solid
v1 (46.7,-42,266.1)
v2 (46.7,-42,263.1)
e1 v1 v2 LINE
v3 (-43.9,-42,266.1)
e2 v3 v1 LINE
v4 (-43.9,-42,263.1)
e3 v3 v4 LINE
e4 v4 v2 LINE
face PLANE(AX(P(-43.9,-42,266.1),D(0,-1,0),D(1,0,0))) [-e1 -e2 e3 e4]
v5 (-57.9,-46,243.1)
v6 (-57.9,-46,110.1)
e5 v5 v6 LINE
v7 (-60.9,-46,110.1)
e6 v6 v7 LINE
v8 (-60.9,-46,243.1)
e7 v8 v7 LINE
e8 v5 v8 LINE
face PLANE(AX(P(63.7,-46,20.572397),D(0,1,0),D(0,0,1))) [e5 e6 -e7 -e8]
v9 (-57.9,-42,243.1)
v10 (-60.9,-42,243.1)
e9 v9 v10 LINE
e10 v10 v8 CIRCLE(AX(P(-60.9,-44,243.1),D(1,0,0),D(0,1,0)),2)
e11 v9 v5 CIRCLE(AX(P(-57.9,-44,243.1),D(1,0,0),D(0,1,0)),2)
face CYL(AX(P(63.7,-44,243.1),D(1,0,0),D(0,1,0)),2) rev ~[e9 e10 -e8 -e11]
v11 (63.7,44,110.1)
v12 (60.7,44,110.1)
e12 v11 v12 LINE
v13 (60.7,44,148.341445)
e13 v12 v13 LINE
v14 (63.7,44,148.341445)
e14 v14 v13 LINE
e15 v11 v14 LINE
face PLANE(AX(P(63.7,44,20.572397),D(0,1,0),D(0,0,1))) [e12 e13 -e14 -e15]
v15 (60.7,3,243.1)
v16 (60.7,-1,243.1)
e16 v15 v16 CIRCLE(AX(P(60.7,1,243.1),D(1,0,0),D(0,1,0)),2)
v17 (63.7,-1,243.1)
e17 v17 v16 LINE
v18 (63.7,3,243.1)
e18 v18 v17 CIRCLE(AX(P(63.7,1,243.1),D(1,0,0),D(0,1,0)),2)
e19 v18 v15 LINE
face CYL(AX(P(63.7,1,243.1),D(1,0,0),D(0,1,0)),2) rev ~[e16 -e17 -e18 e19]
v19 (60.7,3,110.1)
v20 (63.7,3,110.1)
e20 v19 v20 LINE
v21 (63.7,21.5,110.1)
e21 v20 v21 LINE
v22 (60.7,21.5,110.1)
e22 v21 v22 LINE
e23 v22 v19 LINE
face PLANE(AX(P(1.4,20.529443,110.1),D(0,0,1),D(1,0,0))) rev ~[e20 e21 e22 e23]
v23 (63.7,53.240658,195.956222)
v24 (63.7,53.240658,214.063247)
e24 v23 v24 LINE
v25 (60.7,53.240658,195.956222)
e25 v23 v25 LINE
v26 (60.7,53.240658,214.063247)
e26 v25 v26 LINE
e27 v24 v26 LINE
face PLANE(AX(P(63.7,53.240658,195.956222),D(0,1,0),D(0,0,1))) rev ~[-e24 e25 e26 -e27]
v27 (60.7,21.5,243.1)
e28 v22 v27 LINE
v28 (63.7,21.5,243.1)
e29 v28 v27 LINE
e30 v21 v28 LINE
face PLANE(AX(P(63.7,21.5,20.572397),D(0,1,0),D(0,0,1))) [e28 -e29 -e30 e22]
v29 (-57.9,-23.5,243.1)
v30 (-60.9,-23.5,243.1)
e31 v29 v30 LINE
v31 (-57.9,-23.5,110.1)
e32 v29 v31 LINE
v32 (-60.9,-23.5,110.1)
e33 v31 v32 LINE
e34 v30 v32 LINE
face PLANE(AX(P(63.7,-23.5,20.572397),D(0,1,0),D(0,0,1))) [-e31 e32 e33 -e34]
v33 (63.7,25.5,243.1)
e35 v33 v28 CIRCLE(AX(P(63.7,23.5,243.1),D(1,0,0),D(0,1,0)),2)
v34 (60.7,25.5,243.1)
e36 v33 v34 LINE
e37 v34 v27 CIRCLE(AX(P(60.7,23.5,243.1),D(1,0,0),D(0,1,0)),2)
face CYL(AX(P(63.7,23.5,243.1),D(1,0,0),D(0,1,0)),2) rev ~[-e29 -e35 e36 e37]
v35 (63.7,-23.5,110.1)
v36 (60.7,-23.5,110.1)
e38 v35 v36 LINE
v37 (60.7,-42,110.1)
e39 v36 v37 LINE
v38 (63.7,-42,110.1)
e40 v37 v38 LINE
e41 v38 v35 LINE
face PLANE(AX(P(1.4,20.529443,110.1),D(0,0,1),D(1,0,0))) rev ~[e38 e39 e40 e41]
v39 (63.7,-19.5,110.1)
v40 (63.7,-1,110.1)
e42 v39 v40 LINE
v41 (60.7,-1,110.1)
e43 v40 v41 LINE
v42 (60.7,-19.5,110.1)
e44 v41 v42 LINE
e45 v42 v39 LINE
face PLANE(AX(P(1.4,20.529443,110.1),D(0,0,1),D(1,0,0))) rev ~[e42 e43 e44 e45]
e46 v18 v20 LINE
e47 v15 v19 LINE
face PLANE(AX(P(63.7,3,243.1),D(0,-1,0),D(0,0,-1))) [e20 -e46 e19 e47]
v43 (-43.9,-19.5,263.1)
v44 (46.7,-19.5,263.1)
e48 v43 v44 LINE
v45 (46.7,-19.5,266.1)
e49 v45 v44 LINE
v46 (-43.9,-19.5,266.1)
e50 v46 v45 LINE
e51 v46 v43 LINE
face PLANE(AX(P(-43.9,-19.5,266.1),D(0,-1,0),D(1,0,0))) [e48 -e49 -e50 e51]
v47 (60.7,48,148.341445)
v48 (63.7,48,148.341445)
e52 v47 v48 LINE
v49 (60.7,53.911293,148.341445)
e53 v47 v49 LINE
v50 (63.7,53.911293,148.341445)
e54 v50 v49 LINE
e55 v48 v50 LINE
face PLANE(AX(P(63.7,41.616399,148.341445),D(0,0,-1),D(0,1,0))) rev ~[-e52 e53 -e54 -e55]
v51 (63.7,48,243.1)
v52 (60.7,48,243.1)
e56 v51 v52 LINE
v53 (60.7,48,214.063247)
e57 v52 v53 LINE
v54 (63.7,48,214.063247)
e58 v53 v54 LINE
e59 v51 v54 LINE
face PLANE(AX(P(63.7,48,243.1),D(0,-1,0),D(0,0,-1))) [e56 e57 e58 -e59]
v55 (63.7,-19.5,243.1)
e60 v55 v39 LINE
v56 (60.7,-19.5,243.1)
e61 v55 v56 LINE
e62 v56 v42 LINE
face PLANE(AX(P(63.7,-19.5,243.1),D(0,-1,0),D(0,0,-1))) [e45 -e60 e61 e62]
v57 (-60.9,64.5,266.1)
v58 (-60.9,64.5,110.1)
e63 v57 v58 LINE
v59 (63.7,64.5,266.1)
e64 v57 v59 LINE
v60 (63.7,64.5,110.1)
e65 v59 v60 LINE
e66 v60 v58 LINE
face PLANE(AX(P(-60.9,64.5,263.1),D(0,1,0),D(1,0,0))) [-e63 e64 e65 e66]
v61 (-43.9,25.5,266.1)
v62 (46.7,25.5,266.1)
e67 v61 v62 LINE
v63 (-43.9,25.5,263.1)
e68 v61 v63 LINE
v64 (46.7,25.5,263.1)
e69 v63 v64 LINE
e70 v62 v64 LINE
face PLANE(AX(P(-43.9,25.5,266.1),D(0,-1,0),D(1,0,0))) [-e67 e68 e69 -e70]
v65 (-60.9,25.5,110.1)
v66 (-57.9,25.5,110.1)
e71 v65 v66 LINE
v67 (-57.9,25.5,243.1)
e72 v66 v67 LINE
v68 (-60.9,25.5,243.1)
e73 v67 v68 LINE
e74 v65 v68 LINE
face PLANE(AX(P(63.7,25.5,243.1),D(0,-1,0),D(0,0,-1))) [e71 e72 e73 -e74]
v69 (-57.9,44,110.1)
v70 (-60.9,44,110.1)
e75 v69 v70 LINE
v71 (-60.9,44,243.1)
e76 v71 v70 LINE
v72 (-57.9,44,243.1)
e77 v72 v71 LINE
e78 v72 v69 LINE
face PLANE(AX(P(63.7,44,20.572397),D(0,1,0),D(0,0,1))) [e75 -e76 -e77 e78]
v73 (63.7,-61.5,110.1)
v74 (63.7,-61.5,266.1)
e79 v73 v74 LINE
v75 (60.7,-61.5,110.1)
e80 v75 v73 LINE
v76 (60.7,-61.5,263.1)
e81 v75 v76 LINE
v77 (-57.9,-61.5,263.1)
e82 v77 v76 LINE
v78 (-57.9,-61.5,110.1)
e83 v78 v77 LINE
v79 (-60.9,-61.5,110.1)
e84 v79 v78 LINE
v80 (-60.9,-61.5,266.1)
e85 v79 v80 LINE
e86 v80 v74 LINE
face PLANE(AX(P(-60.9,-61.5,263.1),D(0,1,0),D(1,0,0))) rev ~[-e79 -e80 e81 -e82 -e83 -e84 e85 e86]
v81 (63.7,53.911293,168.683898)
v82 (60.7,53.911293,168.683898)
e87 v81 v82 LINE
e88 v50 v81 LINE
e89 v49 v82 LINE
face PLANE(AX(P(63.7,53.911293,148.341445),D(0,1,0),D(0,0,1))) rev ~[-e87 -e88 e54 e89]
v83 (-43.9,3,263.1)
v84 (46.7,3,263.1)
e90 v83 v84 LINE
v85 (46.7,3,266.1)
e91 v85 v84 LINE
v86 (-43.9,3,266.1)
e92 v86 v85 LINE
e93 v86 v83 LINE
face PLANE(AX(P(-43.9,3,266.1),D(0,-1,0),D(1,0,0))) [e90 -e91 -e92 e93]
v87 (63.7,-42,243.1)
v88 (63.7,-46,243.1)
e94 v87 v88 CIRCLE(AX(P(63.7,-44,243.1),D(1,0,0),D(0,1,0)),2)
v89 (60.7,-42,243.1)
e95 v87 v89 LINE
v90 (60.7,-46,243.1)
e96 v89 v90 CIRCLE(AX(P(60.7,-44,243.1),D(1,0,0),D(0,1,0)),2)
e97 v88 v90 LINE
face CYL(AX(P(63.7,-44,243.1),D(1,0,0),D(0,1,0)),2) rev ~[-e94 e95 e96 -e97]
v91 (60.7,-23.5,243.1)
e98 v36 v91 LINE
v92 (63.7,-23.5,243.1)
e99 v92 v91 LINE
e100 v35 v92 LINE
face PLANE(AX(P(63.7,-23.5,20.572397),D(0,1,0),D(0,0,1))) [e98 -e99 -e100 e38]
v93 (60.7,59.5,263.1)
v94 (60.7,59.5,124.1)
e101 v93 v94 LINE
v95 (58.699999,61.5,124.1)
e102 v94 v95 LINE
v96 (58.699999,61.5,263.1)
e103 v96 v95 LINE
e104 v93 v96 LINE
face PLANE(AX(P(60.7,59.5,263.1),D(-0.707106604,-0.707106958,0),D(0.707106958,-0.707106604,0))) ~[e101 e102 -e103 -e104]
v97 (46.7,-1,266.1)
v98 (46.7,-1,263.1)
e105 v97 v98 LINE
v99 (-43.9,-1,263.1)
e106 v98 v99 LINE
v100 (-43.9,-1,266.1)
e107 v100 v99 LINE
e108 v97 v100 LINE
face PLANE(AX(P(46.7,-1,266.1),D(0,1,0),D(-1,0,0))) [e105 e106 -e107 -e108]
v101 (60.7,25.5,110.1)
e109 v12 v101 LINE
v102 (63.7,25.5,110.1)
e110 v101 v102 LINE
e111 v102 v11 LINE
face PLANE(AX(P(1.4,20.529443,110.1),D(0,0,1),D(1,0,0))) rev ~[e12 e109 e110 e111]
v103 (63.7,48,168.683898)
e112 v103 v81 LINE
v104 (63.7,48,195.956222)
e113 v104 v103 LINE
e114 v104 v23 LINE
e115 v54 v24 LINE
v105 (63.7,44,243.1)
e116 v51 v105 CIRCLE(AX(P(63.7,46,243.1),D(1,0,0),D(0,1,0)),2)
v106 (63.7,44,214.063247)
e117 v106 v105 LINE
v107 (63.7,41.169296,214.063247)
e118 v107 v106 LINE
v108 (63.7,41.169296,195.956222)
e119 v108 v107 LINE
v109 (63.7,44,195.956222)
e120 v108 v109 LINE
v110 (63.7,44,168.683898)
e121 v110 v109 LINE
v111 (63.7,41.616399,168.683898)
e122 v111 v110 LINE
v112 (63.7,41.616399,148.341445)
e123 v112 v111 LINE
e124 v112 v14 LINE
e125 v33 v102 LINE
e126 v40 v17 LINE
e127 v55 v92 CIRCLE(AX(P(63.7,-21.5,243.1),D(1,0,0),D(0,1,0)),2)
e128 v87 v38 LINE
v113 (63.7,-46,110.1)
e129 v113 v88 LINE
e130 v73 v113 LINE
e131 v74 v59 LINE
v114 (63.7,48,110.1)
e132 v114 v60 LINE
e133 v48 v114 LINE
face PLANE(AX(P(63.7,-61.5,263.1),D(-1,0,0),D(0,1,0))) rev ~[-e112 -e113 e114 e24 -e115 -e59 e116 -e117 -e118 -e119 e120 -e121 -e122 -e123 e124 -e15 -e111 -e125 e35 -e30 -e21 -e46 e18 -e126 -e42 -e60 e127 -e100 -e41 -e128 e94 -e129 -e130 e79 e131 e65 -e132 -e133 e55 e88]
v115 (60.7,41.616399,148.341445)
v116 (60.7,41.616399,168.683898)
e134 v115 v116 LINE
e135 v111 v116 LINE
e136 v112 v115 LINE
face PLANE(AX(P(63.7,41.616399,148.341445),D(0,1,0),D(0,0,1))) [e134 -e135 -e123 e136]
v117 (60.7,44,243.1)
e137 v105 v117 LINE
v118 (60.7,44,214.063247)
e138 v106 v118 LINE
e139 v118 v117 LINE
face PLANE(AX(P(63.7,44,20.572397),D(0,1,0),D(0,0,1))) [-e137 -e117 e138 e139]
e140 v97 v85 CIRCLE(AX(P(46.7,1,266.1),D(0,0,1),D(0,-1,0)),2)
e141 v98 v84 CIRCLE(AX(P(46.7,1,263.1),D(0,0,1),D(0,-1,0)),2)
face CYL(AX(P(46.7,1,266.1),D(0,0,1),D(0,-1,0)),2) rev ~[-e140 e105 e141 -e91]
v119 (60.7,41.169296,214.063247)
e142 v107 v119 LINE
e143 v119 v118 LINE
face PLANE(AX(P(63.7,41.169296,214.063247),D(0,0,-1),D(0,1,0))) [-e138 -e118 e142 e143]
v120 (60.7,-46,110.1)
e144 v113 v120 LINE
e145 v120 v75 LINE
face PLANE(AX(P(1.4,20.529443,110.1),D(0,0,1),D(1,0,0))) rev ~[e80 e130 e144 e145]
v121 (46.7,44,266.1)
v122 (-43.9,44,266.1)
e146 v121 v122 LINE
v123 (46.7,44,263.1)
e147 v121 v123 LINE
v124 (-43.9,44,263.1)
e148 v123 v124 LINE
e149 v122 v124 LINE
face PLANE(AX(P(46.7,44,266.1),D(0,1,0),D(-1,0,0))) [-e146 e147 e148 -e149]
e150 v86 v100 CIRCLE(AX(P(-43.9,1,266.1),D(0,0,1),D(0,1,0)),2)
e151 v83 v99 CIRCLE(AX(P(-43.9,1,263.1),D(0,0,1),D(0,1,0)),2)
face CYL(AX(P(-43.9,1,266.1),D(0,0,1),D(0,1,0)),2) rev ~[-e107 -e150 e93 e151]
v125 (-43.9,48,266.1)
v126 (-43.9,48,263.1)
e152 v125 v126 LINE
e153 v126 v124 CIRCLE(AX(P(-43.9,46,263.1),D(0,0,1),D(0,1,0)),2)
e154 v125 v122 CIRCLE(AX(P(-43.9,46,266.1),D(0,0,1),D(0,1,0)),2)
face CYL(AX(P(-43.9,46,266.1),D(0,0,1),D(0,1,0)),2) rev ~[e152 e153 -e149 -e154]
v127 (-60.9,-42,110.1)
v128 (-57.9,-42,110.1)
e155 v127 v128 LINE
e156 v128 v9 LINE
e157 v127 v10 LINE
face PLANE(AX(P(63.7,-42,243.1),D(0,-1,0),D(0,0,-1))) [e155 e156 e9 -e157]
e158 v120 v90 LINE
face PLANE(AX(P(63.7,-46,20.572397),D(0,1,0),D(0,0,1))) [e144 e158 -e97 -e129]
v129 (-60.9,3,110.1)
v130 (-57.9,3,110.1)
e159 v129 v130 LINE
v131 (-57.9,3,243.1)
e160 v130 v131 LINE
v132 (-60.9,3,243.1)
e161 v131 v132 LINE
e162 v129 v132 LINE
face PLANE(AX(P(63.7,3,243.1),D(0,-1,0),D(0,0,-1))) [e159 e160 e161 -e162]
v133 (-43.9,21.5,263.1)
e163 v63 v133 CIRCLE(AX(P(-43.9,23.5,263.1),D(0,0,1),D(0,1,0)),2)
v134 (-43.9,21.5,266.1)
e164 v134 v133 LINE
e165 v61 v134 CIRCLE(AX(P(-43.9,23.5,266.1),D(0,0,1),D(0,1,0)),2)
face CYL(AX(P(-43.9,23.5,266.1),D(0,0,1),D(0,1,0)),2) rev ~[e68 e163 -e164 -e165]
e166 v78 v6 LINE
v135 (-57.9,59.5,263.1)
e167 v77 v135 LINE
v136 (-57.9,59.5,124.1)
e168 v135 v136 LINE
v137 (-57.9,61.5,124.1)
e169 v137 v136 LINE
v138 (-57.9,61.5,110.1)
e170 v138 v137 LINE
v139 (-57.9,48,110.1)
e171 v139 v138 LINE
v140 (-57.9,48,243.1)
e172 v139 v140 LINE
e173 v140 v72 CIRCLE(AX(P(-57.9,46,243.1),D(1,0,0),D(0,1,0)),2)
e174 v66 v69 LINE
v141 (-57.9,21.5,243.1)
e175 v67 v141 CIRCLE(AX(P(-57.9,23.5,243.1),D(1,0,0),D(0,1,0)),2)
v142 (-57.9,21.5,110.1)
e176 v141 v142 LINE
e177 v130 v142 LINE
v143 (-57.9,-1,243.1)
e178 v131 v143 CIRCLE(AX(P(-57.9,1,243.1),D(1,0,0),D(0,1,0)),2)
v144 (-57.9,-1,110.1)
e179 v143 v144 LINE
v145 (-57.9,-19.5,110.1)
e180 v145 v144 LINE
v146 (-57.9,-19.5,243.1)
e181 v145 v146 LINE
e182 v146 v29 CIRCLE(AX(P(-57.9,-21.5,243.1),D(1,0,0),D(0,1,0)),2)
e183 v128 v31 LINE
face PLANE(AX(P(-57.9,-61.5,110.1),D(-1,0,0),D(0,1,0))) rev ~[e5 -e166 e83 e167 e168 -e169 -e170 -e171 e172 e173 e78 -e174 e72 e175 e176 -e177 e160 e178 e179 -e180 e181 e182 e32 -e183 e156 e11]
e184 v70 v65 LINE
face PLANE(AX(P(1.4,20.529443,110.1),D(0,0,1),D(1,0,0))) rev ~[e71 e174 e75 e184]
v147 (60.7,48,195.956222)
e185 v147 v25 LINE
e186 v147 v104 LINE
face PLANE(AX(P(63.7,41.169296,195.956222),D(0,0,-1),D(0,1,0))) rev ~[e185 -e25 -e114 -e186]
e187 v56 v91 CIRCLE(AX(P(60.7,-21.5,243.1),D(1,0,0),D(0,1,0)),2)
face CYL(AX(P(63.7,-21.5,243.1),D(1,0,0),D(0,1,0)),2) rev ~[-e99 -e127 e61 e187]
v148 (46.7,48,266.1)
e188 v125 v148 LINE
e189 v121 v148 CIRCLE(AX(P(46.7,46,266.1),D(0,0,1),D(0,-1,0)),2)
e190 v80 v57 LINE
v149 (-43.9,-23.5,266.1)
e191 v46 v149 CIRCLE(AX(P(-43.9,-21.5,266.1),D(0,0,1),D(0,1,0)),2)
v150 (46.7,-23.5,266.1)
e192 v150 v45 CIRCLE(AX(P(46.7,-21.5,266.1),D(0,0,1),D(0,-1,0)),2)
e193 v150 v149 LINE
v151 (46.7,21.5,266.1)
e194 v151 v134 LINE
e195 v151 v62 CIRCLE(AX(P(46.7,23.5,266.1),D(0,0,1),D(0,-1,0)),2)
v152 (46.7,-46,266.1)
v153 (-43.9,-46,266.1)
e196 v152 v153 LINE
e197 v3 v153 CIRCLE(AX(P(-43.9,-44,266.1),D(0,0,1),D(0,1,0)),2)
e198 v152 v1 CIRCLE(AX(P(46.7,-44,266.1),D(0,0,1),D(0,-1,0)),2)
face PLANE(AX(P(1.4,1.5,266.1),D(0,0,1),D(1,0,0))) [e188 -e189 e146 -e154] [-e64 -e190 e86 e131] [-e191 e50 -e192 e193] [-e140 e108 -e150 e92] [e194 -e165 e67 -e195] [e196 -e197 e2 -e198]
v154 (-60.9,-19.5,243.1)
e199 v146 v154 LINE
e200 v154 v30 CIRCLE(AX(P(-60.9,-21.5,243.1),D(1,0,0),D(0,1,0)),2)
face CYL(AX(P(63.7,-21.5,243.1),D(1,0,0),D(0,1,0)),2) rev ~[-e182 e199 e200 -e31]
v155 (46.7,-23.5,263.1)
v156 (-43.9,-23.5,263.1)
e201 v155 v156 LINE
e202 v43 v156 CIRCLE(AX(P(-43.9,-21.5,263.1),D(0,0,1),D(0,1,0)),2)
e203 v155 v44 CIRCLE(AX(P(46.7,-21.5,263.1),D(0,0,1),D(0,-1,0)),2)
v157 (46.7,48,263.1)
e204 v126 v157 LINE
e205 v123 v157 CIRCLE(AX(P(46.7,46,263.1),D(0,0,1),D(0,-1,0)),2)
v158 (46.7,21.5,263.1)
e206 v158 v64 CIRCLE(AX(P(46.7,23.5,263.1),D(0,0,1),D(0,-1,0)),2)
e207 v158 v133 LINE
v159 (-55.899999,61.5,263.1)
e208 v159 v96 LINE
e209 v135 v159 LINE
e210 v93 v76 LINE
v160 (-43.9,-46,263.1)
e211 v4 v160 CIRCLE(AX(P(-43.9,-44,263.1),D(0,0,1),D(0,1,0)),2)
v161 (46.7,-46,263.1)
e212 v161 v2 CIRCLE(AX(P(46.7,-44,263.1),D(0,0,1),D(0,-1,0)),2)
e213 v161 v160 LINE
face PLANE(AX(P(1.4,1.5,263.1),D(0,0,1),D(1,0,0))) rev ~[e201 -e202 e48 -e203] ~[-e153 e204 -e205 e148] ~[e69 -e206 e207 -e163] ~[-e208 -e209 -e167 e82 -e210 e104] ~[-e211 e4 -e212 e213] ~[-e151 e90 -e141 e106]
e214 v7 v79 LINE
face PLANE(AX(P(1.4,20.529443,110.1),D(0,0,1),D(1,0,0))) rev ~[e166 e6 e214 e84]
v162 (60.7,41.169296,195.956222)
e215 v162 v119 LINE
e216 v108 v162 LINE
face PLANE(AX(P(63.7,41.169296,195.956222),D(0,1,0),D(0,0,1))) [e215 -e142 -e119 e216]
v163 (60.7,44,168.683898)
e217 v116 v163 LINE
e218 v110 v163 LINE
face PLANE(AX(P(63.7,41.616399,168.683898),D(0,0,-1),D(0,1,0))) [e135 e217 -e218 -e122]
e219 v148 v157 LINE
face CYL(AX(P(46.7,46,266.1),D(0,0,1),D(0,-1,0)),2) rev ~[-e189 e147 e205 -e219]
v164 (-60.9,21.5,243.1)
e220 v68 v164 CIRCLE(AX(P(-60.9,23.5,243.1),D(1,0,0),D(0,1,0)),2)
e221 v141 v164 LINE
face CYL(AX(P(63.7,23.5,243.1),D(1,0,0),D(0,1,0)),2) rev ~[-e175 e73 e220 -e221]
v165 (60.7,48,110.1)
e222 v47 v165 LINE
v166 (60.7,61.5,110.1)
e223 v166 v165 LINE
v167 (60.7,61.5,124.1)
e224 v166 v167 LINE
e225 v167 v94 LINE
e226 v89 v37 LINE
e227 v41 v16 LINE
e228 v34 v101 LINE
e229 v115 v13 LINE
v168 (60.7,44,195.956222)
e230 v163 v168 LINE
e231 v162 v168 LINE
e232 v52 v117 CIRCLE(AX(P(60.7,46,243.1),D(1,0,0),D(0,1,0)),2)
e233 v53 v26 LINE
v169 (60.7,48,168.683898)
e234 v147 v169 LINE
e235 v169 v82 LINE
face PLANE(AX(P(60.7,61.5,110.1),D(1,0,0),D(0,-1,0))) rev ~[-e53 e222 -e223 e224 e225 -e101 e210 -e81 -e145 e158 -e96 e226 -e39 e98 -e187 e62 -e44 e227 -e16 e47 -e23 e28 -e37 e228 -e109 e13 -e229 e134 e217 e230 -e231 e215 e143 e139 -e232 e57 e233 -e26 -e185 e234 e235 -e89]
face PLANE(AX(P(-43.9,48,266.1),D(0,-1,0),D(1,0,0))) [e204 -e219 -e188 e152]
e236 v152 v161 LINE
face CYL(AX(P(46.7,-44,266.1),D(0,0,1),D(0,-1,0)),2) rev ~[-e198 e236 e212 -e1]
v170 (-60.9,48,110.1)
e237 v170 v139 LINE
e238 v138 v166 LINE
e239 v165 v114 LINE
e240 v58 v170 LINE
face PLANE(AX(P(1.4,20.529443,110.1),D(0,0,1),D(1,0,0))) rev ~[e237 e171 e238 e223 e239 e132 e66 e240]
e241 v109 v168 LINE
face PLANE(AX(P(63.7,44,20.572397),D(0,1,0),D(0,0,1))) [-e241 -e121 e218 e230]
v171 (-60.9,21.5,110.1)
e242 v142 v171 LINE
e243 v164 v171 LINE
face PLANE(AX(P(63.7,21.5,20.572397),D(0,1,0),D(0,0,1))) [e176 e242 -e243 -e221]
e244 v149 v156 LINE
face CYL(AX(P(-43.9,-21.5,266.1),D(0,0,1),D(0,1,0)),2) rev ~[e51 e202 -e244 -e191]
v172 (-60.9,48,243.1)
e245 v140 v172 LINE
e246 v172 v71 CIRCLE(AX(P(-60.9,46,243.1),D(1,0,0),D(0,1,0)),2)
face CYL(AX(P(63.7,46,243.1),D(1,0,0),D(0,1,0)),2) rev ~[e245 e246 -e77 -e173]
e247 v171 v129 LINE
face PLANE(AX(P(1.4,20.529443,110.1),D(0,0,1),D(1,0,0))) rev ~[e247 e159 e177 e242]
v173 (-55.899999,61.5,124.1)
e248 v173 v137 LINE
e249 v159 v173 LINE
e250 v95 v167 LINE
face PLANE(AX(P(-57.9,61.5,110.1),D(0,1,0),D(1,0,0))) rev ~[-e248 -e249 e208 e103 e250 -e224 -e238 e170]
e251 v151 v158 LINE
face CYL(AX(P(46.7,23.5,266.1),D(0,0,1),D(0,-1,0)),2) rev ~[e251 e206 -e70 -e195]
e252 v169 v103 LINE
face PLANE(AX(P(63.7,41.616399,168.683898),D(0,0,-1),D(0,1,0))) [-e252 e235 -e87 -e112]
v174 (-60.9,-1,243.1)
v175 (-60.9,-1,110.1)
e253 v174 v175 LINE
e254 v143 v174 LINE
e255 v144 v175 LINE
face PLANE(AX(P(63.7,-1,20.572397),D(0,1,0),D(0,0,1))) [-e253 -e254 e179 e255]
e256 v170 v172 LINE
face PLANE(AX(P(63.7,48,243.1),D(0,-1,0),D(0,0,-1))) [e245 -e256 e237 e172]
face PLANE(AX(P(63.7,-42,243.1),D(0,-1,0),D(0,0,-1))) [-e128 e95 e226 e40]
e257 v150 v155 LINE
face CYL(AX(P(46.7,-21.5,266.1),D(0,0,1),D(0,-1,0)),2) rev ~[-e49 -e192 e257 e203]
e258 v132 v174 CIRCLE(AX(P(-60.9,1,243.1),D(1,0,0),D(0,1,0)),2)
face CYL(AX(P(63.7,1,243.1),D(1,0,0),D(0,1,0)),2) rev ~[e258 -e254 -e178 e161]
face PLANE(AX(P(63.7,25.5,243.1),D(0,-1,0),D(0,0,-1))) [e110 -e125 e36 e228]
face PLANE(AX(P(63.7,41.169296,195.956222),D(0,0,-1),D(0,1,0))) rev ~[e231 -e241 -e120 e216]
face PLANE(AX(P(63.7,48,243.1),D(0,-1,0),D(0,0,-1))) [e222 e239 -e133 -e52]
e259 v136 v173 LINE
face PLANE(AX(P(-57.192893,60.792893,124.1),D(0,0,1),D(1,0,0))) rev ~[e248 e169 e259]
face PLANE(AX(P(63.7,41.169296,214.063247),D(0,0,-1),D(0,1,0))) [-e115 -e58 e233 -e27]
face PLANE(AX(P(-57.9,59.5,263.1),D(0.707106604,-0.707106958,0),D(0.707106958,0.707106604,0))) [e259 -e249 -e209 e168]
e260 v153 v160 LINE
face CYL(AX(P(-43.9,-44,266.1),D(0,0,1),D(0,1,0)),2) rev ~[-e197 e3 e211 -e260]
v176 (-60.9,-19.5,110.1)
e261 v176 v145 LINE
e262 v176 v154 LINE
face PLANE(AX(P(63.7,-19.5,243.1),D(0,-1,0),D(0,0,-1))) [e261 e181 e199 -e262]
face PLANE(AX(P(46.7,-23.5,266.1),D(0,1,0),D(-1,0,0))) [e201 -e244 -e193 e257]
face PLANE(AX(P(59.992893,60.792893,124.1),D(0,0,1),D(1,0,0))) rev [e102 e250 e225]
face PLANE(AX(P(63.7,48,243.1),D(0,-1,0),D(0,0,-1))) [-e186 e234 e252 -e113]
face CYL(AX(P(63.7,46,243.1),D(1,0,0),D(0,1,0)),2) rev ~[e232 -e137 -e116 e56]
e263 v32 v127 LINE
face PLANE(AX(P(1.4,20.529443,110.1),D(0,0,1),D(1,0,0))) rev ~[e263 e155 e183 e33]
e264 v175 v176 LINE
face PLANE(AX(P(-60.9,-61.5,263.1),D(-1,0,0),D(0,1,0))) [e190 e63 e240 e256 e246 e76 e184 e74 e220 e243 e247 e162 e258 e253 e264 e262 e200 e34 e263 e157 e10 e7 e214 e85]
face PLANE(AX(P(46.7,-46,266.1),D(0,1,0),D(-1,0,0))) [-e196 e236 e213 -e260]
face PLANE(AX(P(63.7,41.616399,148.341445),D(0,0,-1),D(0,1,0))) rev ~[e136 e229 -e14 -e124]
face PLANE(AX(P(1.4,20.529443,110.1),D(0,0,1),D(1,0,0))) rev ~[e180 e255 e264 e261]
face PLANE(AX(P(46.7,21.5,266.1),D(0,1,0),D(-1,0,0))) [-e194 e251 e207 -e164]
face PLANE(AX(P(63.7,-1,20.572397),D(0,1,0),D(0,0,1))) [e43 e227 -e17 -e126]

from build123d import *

# Parameters (mm, degrees)
PAD004_DEPTH           = 153
PAD005_DEPTH           = 139
SKETCH007_W            = 124.6
SKETCH007_H            = 126
PAD006_DEPTH           = 3
POCKET002_DEPTH        = 124.601
LINEARPATTERN001_COUNT = 5
LINEARPATTERN001_PITCH = 22.5
POCKET003_DEPTH        = 4
LINEARPATTERN002_COUNT = 5
LINEARPATTERN002_PITCH = 22.5
SKETCH015_R            = 2
POCKET006_DEPTH        = 5
SKETCH016_W            = 12.294895
SKETCH016_H            = 20.342453
SKETCH016_W_2          = 12.071362
SKETCH016_H_2          = 18.107025
POCKET008_DEPTH        = 5


with BuildPart() as part:
    # Sketch006 → Pad004 (new body)
    with BuildSketch(Plane.XY):
        Polygon((62.3, 64.5), (-62.3, 64.5), (-62.3, -61.5), (-59.3, -61.5), (-59.3, 61.5), (59.3, 61.5), (59.3, -61.5), (62.3, -61.5), align=None)
    extrude(amount=PAD004_DEPTH)

    # Sketch008 (on DatumPlane) → Pad005 (join)
    with BuildSketch(Plane.XY.offset(153)):
        Polygon((-59.3, 59.5), (-57.299999, 61.5), (-59.3, 61.5), align=None)
    pad005 = extrude(amount=-PAD005_DEPTH)

    # Mirrored001: Pad005 across Sketch008 V_Axis
    add(pad005.mirror(Plane(origin=(0, 0, 153), x_dir=(0, 0, 1), z_dir=(1, 0, 0))))

    # Sketch007 (on DatumPlane) → Pad006 (join)
    with BuildSketch(Plane.XY.offset(153)):
        with Locations((0, 1.5)):
            Rectangle(SKETCH007_W, SKETCH007_H)
    extrude(amount=PAD006_DEPTH)

    # Sketch010 (on DatumPlane) → Pocket002 (cut, through all)
    with BuildSketch(Plane.YZ.offset(62.3)):
        with BuildLine():
            Line((-46, -89.527603), (-46, 133))
            ThreePointArc((-42, 133), (-44, 135), (-46, 133))
            Line((-42, 133), (-42, -89.527603))
            ThreePointArc((-46, -89.527603), (-44, -91.527603), (-42, -89.527603))
        make_face()
    pocket002 = extrude(amount=-POCKET002_DEPTH, mode=Mode.SUBTRACT)

    # LinearPattern001: Pocket002 ×5
    with Locations(*[(0, i * LINEARPATTERN001_PITCH, 0) for i in range(1, LINEARPATTERN001_COUNT)]):
        add(pocket002, mode=Mode.SUBTRACT)

    # Sketch011 (on Face13 of Pad006) → Pocket003 (cut)
    with BuildSketch(Plane.XY.offset(156)):
        with BuildLine():
            Line((-45.3, -42), (45.3, -42))
            ThreePointArc((45.3, -46), (47.3, -44), (45.3, -42))
            Line((45.3, -46), (-45.3, -46))
            ThreePointArc((-45.3, -42), (-47.3, -44), (-45.3, -46))
        make_face()
    pocket003 = extrude(amount=-POCKET003_DEPTH, mode=Mode.SUBTRACT)

    # LinearPattern002: Pocket003 ×5
    with Locations(*[(0, i * LINEARPATTERN002_PITCH, 0) for i in range(1, LINEARPATTERN002_COUNT)]):
        add(pocket003, mode=Mode.SUBTRACT)

    # Sketch015 (on DatumPlane) → Pocket006 (cut)
    with BuildSketch(Plane.XZ.offset(-64.5)):
        with Locations((-45.035357, 71.063824)):
            Circle(SKETCH015_R)
    extrude(amount=-POCKET006_DEPTH, mode=Mode.SUBTRACT)

    # Sketch016 (on DatumPlane) → Pocket008 (cut)
    with BuildSketch(Plane.YZ.offset(62.3)):
        with Locations((47.763846, 48.412672)):
            Rectangle(SKETCH016_W, SKETCH016_H)
        with Locations((47.204977, 94.909735)):
            Rectangle(SKETCH016_W_2, SKETCH016_H_2)
    extrude(amount=-POCKET008_DEPTH, mode=Mode.SUBTRACT)


with BuildPart() as part_1:
    # Body001 placement: moved
    add(part.part.moved(Location((1.4, 0, 110.1))))


solid = part_1.part
